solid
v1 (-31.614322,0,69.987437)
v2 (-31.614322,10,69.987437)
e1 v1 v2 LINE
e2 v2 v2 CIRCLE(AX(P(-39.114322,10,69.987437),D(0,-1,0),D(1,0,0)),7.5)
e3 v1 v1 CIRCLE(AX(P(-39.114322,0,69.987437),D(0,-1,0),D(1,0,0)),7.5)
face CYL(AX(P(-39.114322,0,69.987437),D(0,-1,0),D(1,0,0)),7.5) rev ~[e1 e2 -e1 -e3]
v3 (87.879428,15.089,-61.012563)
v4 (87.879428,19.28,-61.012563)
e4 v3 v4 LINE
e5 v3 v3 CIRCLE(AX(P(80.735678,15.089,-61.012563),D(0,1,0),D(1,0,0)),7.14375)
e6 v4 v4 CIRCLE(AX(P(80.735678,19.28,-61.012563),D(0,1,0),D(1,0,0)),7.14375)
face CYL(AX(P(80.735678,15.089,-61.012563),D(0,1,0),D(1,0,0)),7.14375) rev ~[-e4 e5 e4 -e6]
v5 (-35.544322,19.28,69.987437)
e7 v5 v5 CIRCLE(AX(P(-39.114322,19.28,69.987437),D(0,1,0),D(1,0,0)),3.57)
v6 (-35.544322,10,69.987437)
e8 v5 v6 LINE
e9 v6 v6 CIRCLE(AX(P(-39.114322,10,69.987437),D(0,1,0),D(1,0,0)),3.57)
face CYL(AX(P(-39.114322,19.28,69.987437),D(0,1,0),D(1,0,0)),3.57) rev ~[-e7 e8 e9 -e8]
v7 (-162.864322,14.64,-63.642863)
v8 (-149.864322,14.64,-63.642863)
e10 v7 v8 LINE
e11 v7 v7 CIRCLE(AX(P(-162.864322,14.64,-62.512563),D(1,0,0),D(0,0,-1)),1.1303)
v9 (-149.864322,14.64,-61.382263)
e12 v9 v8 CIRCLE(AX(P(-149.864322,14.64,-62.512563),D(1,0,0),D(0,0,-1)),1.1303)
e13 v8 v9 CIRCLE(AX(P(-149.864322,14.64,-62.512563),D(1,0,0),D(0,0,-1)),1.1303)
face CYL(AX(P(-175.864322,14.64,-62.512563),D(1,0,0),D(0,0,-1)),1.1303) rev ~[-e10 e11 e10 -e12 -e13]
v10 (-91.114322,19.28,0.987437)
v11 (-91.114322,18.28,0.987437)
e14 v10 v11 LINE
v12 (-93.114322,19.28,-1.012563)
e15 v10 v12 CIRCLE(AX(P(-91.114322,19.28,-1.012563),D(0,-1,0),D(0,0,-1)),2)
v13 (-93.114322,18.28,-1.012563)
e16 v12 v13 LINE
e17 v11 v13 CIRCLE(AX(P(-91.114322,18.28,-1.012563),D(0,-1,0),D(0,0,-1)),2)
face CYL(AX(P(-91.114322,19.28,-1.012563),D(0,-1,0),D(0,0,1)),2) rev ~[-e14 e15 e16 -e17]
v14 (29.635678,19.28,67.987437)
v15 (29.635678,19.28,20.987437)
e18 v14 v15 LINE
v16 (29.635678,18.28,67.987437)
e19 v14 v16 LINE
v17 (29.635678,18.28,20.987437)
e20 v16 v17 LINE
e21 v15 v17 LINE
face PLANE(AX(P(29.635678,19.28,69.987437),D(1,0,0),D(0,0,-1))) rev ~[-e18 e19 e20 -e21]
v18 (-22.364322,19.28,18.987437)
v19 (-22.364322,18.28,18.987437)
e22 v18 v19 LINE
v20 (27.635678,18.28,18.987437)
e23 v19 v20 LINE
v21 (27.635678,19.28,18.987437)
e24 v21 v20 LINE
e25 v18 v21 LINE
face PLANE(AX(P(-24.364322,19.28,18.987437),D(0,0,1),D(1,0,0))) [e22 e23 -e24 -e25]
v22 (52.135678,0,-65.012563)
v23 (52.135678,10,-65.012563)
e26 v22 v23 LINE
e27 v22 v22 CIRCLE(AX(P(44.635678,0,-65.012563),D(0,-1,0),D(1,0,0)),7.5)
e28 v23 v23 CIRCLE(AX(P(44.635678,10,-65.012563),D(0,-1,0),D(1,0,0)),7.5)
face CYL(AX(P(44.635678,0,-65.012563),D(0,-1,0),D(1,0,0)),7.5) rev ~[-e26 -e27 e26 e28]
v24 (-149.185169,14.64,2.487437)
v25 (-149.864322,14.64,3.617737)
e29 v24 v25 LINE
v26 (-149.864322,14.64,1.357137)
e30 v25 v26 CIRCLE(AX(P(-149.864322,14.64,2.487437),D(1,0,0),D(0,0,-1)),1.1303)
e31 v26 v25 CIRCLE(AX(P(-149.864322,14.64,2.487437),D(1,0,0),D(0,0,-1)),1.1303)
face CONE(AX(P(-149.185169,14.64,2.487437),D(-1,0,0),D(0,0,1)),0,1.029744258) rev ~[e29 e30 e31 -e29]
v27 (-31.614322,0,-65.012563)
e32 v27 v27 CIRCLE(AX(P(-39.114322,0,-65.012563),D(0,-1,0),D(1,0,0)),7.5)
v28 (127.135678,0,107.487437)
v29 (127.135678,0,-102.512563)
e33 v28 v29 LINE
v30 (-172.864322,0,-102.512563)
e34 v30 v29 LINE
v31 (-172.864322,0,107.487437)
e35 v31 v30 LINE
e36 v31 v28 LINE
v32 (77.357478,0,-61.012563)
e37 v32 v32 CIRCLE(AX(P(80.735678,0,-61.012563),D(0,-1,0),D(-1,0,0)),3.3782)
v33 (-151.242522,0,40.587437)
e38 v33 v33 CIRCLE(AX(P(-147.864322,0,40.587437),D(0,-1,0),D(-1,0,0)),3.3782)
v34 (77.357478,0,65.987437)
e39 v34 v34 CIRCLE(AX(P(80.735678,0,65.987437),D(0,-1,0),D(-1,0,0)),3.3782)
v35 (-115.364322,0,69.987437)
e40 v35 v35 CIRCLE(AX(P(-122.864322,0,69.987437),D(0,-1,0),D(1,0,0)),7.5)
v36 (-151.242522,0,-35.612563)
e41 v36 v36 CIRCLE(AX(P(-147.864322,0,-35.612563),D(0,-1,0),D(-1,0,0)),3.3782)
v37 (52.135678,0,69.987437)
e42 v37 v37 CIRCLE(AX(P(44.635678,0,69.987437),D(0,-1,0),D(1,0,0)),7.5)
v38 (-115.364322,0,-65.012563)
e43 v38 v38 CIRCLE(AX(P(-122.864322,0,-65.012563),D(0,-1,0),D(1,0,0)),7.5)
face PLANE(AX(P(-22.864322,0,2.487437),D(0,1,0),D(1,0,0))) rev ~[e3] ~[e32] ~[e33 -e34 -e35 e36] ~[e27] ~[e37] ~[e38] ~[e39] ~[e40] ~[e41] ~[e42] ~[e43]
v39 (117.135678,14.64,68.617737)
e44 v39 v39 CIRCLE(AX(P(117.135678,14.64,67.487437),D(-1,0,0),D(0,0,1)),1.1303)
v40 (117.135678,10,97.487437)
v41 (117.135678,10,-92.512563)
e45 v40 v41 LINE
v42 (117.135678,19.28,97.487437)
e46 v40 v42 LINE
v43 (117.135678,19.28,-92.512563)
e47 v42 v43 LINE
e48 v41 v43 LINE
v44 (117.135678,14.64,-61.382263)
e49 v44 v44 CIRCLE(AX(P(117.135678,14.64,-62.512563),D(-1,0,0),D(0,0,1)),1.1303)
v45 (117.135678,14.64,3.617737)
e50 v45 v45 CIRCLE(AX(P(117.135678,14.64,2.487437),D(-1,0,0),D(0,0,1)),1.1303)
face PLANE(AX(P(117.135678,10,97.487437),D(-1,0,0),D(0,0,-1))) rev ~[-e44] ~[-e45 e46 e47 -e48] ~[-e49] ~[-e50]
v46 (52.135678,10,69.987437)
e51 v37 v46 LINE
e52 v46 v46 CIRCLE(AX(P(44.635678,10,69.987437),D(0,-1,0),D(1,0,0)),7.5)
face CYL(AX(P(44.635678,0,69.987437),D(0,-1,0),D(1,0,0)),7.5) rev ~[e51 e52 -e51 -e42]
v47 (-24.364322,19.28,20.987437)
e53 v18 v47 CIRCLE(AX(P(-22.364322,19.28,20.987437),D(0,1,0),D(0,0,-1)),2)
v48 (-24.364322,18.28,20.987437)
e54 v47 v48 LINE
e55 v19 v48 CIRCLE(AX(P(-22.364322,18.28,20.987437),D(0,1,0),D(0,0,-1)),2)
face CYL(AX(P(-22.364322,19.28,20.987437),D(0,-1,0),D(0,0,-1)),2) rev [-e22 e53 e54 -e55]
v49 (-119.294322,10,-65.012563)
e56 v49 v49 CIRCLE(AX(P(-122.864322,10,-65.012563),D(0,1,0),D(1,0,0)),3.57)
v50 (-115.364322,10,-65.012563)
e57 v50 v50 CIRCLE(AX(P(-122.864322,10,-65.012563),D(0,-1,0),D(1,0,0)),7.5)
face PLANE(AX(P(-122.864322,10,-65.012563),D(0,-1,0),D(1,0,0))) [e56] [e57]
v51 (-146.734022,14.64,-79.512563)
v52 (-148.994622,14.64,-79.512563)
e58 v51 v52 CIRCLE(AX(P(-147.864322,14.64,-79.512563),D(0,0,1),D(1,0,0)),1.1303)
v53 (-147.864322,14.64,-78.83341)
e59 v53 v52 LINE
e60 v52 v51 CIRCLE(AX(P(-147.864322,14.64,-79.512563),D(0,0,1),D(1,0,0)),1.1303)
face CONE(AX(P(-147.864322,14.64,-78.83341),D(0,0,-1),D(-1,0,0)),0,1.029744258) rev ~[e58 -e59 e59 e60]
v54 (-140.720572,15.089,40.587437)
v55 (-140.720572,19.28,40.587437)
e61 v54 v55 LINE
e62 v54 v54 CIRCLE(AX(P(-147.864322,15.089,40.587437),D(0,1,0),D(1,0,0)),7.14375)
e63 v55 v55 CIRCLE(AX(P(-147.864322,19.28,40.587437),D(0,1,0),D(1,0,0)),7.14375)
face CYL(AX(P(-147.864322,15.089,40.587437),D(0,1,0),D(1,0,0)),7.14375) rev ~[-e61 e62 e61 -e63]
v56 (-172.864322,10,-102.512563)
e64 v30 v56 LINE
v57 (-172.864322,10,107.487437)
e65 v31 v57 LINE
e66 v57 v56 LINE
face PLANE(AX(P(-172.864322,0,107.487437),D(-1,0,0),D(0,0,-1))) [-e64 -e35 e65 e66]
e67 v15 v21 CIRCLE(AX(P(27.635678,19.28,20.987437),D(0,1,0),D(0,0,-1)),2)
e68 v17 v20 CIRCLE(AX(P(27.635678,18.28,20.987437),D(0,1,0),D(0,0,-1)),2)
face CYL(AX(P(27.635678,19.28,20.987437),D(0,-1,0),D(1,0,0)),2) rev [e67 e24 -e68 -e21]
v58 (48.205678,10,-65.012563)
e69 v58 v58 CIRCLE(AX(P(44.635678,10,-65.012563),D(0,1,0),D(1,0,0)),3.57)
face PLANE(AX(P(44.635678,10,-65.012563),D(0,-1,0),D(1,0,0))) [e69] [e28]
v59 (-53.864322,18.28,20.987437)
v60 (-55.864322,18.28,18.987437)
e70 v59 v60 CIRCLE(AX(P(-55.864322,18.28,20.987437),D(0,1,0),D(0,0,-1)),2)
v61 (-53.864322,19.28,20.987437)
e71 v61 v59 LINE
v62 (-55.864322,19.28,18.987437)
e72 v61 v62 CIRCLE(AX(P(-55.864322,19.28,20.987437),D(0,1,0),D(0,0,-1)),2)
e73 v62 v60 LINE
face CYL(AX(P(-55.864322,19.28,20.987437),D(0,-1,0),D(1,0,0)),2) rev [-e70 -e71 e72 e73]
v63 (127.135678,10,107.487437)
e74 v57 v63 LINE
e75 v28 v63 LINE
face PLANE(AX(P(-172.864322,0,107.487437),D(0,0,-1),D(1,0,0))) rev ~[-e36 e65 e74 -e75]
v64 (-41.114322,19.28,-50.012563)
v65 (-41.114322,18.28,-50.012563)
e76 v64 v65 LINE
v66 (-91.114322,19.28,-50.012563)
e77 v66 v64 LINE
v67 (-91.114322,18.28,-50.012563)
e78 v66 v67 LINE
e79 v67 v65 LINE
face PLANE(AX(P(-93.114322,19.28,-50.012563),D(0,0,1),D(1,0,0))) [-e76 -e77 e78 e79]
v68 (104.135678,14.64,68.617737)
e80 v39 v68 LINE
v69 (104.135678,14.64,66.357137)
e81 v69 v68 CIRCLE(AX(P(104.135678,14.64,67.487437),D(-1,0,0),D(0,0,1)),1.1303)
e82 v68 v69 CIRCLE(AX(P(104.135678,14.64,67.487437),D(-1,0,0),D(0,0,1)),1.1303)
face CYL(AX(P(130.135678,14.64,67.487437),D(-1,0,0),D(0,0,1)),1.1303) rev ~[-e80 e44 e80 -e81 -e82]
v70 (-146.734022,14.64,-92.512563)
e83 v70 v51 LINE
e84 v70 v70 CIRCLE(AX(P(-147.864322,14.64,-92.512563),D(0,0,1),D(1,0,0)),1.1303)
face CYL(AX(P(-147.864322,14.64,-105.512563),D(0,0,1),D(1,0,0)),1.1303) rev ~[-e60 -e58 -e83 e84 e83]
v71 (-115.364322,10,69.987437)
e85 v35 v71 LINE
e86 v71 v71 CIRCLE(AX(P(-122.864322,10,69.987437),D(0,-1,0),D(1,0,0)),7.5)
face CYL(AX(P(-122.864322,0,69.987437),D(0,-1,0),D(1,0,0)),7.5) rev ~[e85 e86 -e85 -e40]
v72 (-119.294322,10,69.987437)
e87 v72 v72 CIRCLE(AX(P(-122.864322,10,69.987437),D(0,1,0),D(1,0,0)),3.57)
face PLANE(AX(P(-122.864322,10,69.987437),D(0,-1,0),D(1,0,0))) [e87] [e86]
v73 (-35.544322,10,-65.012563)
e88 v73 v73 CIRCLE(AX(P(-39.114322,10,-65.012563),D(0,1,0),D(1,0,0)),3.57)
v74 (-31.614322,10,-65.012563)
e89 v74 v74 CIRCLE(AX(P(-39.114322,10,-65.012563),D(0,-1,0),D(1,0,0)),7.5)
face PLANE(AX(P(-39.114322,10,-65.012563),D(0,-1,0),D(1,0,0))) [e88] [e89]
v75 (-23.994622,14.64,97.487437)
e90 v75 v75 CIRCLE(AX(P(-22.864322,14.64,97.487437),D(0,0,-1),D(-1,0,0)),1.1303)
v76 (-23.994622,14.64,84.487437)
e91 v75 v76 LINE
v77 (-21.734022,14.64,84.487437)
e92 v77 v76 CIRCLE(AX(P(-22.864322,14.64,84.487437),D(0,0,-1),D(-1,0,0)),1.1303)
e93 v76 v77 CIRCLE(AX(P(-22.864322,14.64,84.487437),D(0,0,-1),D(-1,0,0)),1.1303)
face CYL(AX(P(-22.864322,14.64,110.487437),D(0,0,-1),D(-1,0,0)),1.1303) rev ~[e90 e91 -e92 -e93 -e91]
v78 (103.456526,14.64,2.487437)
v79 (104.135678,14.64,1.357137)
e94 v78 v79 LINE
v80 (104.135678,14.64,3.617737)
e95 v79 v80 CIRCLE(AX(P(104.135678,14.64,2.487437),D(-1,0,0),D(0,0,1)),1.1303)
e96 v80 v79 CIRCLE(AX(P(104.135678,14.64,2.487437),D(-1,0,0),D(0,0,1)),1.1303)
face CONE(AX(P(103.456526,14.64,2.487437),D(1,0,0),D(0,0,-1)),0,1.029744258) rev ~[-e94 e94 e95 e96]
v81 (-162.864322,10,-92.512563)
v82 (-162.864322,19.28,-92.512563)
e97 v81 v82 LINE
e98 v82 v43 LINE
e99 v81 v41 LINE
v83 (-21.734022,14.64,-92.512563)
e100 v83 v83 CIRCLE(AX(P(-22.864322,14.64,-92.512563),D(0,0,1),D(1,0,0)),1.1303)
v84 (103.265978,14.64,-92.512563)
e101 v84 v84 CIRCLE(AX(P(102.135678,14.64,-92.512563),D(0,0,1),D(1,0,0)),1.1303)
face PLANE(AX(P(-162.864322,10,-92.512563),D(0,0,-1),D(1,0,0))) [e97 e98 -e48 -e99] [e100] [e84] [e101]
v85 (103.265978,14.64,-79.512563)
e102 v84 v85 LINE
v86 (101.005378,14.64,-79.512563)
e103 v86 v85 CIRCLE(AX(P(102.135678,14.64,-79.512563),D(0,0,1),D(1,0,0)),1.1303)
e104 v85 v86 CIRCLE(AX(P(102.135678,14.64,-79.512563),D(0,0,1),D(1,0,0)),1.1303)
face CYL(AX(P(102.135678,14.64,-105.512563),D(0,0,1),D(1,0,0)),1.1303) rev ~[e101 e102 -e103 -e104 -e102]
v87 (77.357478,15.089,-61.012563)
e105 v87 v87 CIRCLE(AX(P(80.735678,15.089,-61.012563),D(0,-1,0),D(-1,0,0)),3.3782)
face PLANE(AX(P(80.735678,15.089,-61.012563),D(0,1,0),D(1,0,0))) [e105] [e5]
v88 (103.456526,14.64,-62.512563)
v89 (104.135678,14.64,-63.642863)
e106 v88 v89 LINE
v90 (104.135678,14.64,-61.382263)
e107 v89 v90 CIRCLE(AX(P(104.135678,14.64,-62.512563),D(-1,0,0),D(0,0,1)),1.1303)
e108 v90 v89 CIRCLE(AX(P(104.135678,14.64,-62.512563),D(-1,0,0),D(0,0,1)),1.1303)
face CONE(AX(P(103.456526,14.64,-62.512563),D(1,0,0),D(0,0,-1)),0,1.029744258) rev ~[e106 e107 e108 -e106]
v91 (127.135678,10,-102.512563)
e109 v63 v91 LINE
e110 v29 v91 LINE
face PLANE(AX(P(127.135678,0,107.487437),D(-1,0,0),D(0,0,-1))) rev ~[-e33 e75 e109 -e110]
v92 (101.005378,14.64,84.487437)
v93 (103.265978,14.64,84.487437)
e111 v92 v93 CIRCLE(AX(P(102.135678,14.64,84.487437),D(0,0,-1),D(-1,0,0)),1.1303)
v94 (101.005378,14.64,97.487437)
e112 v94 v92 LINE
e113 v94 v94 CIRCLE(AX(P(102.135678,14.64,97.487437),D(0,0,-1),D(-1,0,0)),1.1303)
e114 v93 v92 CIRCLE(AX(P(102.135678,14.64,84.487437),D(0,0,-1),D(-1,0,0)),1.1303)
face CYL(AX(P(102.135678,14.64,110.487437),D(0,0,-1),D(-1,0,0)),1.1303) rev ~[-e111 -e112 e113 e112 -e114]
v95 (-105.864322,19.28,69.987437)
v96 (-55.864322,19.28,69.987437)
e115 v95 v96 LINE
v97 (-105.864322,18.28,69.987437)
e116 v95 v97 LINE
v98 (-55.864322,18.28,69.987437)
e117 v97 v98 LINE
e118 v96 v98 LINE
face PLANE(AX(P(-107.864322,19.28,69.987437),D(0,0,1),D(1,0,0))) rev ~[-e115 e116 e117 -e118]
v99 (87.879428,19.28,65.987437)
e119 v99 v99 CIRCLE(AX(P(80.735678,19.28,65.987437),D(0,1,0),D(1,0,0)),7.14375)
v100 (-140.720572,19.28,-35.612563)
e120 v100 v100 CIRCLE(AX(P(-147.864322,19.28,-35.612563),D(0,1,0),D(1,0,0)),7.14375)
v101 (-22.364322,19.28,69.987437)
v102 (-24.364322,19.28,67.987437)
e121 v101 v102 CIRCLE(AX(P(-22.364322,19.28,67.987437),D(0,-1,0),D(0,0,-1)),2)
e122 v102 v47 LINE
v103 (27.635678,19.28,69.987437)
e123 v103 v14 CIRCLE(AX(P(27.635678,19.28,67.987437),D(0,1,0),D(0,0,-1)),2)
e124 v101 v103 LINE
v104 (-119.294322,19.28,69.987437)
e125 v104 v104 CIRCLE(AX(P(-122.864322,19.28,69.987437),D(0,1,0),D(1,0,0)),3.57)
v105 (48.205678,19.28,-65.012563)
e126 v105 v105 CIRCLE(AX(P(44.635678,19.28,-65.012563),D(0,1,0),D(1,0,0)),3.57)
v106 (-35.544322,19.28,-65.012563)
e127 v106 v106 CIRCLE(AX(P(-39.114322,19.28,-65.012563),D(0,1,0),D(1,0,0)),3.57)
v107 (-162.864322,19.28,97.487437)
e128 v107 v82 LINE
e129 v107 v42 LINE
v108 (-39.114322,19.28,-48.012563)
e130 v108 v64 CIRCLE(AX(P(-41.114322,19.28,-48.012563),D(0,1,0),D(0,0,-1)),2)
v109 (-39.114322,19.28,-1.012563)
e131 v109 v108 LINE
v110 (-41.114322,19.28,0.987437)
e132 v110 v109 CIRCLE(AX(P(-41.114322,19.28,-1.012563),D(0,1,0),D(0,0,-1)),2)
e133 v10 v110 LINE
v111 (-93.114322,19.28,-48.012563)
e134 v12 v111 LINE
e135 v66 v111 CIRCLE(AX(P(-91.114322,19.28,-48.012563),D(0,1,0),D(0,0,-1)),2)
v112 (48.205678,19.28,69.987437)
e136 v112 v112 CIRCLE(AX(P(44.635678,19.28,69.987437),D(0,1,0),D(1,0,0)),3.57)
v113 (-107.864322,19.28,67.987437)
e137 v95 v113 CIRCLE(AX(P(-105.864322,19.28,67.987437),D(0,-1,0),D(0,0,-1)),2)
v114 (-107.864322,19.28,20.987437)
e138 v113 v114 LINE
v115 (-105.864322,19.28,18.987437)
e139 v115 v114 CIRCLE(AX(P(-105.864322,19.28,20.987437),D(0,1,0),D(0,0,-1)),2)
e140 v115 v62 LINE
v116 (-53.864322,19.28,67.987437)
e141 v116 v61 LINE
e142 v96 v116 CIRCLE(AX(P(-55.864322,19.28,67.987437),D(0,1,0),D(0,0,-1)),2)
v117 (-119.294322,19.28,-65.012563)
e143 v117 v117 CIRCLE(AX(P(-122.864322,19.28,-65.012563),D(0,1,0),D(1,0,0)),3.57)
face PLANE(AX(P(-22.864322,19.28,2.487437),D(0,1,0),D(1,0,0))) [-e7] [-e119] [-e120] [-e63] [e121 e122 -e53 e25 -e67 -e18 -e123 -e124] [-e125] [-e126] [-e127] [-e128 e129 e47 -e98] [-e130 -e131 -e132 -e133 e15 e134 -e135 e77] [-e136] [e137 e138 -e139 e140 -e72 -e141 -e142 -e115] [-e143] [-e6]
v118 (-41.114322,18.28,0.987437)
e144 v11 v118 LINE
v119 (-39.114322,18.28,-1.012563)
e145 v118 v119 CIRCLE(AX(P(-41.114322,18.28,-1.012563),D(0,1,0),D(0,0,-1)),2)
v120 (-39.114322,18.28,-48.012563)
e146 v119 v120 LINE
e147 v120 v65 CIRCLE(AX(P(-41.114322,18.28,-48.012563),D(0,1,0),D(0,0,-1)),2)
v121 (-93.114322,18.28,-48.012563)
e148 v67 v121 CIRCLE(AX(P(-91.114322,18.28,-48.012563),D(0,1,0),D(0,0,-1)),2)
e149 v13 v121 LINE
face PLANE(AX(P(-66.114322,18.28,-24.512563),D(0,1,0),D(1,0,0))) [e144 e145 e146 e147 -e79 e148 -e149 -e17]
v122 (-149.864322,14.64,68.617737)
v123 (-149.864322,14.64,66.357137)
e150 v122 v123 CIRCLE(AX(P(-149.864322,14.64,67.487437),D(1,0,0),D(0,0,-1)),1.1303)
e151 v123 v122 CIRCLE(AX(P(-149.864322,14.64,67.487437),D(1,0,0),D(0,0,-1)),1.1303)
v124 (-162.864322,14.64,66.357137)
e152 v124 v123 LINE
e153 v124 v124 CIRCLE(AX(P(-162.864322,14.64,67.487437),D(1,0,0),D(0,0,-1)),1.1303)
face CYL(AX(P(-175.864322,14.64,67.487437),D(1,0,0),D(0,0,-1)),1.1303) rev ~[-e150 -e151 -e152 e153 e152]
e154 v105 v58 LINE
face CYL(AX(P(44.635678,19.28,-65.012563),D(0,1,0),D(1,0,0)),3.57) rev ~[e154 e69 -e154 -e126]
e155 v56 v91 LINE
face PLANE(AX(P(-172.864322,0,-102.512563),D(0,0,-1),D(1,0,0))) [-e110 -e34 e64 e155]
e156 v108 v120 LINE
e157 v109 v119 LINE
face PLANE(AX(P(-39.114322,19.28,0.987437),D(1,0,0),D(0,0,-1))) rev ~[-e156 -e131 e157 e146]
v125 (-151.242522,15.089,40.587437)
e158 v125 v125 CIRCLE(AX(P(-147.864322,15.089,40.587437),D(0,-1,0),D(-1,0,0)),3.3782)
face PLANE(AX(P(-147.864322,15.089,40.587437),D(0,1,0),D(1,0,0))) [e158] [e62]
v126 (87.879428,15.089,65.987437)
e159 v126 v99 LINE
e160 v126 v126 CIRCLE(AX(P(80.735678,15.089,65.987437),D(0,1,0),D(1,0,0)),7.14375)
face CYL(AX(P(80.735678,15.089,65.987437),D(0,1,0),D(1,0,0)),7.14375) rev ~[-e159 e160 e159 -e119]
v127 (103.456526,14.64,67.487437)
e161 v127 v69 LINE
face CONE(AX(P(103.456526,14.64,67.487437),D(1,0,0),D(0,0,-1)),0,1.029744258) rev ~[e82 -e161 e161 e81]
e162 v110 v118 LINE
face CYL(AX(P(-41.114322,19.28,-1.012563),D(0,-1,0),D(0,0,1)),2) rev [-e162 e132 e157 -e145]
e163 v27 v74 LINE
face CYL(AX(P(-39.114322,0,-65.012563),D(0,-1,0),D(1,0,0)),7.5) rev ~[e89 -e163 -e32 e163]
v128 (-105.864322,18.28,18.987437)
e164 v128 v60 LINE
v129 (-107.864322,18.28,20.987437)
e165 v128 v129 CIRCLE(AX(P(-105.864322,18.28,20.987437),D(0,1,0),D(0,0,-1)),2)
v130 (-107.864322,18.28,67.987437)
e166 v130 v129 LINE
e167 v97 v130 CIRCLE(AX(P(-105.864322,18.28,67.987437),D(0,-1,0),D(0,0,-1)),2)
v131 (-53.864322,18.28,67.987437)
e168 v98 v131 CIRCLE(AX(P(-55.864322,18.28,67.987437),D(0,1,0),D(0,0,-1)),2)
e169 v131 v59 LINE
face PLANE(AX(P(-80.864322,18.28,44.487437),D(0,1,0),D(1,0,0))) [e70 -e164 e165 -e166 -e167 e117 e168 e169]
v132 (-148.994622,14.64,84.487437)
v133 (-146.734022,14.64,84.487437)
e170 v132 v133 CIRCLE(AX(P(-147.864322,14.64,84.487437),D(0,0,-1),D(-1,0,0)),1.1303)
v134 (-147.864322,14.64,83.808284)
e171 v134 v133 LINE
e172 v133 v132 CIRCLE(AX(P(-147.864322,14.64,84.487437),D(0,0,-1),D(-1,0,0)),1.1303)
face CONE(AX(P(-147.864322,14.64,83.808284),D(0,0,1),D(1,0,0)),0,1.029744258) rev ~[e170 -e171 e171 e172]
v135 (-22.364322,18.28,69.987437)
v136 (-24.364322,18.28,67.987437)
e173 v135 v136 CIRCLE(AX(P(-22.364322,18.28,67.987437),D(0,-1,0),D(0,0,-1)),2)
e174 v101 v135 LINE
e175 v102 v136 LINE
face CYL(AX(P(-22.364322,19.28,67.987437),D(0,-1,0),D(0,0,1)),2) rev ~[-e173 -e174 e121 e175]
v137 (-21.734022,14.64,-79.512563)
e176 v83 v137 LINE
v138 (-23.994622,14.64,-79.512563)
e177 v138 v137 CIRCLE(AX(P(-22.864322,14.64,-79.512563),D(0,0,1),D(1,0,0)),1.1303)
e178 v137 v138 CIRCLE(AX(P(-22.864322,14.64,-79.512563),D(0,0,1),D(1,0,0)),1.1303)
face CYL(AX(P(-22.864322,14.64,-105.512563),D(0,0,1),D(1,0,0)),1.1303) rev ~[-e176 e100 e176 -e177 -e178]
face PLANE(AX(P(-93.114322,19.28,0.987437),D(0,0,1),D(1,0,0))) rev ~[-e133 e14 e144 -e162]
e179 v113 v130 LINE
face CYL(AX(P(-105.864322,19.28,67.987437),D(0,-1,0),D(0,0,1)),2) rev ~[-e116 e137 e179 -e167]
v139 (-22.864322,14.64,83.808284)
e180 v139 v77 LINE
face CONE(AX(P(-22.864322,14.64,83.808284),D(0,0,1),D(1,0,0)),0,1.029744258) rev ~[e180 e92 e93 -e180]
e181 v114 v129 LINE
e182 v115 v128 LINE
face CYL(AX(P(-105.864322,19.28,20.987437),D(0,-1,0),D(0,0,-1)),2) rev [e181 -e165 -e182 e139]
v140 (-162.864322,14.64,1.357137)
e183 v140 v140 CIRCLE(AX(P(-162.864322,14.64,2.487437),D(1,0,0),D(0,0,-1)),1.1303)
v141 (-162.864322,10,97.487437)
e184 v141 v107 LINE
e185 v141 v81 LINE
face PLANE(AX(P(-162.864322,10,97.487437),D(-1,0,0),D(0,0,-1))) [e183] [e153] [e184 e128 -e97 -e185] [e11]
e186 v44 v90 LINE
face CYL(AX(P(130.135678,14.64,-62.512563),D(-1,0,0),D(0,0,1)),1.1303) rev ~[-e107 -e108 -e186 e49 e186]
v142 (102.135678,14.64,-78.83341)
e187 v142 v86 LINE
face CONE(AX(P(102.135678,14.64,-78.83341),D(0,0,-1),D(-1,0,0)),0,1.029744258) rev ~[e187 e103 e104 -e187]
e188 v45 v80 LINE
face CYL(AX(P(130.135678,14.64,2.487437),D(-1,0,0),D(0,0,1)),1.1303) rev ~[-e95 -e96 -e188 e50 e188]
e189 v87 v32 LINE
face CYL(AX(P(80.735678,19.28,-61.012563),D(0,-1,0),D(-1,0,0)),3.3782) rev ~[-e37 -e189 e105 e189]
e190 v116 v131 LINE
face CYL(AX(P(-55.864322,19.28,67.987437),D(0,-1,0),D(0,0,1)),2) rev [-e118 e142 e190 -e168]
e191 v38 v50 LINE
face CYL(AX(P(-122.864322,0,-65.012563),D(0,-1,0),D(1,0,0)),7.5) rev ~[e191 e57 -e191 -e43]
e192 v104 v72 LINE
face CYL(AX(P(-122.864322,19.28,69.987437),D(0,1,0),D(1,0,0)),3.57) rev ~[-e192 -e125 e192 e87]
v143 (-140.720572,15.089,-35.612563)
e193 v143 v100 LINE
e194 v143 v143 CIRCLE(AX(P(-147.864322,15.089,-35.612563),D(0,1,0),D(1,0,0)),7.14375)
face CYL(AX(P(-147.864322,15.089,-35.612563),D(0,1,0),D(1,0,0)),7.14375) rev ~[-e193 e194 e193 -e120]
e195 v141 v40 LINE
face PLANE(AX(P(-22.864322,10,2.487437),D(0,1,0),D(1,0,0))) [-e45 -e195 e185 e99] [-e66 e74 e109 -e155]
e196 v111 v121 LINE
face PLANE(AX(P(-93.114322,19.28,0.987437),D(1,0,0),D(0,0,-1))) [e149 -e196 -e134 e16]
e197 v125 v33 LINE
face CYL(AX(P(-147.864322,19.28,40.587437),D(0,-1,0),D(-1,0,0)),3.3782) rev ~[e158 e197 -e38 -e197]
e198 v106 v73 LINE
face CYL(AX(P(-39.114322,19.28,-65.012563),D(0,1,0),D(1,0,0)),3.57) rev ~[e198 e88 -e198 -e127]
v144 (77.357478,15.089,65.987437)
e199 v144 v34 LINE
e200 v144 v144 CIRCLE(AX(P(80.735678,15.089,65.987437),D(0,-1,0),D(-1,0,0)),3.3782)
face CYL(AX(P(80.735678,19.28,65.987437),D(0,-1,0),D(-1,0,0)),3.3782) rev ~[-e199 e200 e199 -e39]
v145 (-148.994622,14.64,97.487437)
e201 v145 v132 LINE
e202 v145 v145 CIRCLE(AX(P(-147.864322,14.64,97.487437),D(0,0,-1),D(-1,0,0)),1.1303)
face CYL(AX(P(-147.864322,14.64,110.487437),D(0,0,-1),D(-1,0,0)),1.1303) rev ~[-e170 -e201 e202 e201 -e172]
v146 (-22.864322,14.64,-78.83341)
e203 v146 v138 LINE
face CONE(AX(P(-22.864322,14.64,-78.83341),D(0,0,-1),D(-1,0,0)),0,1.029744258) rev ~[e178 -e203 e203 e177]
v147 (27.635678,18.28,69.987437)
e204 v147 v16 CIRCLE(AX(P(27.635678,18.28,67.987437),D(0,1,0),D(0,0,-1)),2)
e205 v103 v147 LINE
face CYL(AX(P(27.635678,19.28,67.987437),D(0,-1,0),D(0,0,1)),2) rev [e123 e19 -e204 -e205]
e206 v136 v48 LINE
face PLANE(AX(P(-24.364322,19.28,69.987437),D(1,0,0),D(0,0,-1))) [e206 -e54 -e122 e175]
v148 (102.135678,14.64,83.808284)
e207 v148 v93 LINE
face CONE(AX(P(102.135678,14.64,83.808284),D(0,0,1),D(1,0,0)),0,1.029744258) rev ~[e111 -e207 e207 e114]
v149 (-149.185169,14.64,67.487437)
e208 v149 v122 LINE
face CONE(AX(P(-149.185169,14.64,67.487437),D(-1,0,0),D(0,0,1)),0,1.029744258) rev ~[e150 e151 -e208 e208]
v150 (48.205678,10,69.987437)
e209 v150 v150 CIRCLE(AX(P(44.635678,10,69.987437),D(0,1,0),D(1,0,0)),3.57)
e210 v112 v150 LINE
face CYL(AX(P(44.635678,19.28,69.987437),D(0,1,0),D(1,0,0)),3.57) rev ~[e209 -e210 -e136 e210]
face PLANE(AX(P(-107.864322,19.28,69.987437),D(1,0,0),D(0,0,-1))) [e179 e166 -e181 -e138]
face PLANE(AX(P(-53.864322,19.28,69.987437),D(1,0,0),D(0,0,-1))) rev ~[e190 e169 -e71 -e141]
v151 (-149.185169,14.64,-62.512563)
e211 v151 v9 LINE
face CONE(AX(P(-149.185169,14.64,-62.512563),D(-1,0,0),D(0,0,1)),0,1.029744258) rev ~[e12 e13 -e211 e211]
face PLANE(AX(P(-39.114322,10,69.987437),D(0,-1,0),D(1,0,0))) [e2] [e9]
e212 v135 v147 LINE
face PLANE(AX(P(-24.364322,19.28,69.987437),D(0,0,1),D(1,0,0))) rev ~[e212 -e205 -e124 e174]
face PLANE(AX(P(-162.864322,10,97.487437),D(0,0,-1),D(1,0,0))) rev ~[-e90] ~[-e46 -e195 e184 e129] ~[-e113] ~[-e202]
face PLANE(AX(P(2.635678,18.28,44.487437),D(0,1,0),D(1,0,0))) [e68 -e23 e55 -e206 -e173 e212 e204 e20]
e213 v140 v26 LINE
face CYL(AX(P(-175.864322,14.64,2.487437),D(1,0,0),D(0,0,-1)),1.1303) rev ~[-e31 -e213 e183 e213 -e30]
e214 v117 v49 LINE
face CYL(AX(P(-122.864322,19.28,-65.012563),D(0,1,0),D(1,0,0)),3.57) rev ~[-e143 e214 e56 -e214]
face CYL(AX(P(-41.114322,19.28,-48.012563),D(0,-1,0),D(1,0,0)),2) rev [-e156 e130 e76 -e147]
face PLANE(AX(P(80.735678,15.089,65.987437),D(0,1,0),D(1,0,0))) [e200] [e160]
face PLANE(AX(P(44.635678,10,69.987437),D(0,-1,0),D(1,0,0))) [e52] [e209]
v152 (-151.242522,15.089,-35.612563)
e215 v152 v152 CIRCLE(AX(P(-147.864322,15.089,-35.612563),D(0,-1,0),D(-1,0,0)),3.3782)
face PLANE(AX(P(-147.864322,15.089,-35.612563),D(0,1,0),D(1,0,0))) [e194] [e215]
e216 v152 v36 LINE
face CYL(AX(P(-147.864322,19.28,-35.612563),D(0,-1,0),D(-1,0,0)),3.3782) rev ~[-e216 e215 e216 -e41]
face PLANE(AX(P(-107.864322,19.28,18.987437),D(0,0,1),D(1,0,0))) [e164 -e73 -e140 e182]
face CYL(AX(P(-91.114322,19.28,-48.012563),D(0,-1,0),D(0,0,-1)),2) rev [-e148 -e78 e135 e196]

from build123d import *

# Parameters (mm, degrees)
SKETCH1_W                                            = 300
SKETCH1_H                                            = 210
BOSS_EXTRUDE1_DEPTH                                  = 10
SKETCH2_W                                            = 280
SKETCH2_H                                            = 190
BOSS_EXTRUDE2_DEPTH                                  = 9.28
F_1_4_20_CLEARANCE_HOLES_REACH                       = 21.28
SKETCH3_R                                            = 3.57
SKETCH4_R                                            = 7.5
CUT_EXTRUDE2_DEPTH                                   = 10
SKETCH11_W                                           = 54
SKETCH11_H                                           = 51
TEC_DEPTH                                            = 1
FILLET1_R                                            = 2
F_4_40_TAPPED_HOLE1_D                                = 2.2606
F_4_40_TAPPED_HOLE1_DEPTH                            = 13
F_4_40_TAPPED_HOLE1_TIP                              = 0.679152758
F_4_40_TAPPED_HOLE2_D                                = 2.2606
F_4_40_TAPPED_HOLE2_DEPTH                            = 13
F_4_40_TAPPED_HOLE2_TIP                              = 0.679152758
F_4_40_TAPPED_HOLE3_D                                = 2.2606
F_4_40_TAPPED_HOLE3_DEPTH                            = 13
F_4_40_TAPPED_HOLE3_TIP                              = 0.679152758
F_4_40_TAPPED_HOLE4_D                                = 2.2606
F_4_40_TAPPED_HOLE4_DEPTH                            = 13
F_4_40_TAPPED_HOLE4_TIP                              = 0.679152758
CBORE_FOR_1_4_BINDING_HEAD_MACHINE_SCREW_D           = 6.7564
CBORE_FOR_1_4_BINDING_HEAD_MACHINE_SCREW_CBORE_D     = 14.2875
CBORE_FOR_1_4_BINDING_HEAD_MACHINE_SCREW_CBORE_DEPTH = 4.191


with BuildPart() as part:
    # Sketch1 → Boss-Extrude1 (new body)
    with BuildSketch(Plane(origin=(0, 0, 0), x_dir=(1, 0, 0), z_dir=(0, 1, 0))):
        with Locations((-22.864321608, -2.487437186)):
            Rectangle(SKETCH1_W, SKETCH1_H)
    extrude(amount=BOSS_EXTRUDE1_DEPTH)

    # Sketch2 → Boss-Extrude2 (add)
    with BuildSketch(Plane(origin=(0, 10, 0), x_dir=(1, 0, 0), z_dir=(0, 1, 0))):
        with Locations((-22.864321608, -2.487437186)):
            Rectangle(SKETCH2_W, SKETCH2_H)
    extrude(amount=BOSS_EXTRUDE2_DEPTH)

    # Sketch3 → 1/4-20 clearance holes (cut, up to next)
    with BuildSketch(Plane(origin=(0, 19.28, 0), x_dir=(1, 0, 0), z_dir=(0, 1, 0)), mode=Mode.PRIVATE) as f_1_4_20_clearance_holes_sk1:
        with Locations((-122.864321608, 65.012562814)):
            Circle(SKETCH3_R)
    f_1_4_20_clearance_holes_tool1 = extrude(f_1_4_20_clearance_holes_sk1.sketch, amount=-F_1_4_20_CLEARANCE_HOLES_REACH, mode=Mode.PRIVATE) & part.part
    add(f_1_4_20_clearance_holes_tool1.solids().sort_by_distance((-122.864322, 19.28, -65.012563))[0], mode=Mode.SUBTRACT)
    # Sketch3 → 1/4-20 clearance holes (cut, up to next)
    with BuildSketch(Plane(origin=(0, 19.28, 0), x_dir=(1, 0, 0), z_dir=(0, 1, 0)), mode=Mode.PRIVATE) as f_1_4_20_clearance_holes_sk2:
        with Locations((-39.114321608, 65.012562814)):
            Circle(SKETCH3_R)
    f_1_4_20_clearance_holes_tool2 = extrude(f_1_4_20_clearance_holes_sk2.sketch, amount=-F_1_4_20_CLEARANCE_HOLES_REACH, mode=Mode.PRIVATE) & part.part
    add(f_1_4_20_clearance_holes_tool2.solids().sort_by_distance((-39.114322, 19.28, -65.012563))[0], mode=Mode.SUBTRACT)
    # Sketch3 → 1/4-20 clearance holes (cut, up to next)
    with BuildSketch(Plane(origin=(0, 19.28, 0), x_dir=(1, 0, 0), z_dir=(0, 1, 0)), mode=Mode.PRIVATE) as f_1_4_20_clearance_holes_sk3:
        with Locations((44.635678392, 65.012562814)):
            Circle(SKETCH3_R)
    f_1_4_20_clearance_holes_tool3 = extrude(f_1_4_20_clearance_holes_sk3.sketch, amount=-F_1_4_20_CLEARANCE_HOLES_REACH, mode=Mode.PRIVATE) & part.part
    add(f_1_4_20_clearance_holes_tool3.solids().sort_by_distance((44.635678, 19.28, -65.012563))[0], mode=Mode.SUBTRACT)
    # Sketch3 → 1/4-20 clearance holes (cut, up to next)
    with BuildSketch(Plane(origin=(0, 19.28, 0), x_dir=(1, 0, 0), z_dir=(0, 1, 0)), mode=Mode.PRIVATE) as f_1_4_20_clearance_holes_sk4:
        with Locations((44.635678392, -69.987437186)):
            Circle(SKETCH3_R)
    f_1_4_20_clearance_holes_tool4 = extrude(f_1_4_20_clearance_holes_sk4.sketch, amount=-F_1_4_20_CLEARANCE_HOLES_REACH, mode=Mode.PRIVATE) & part.part
    add(f_1_4_20_clearance_holes_tool4.solids().sort_by_distance((44.635678, 19.28, 69.987437))[0], mode=Mode.SUBTRACT)
    # Sketch3 → 1/4-20 clearance holes (cut, up to next)
    with BuildSketch(Plane(origin=(0, 19.28, 0), x_dir=(1, 0, 0), z_dir=(0, 1, 0)), mode=Mode.PRIVATE) as f_1_4_20_clearance_holes_sk5:
        with Locations((-39.114321608, -69.987437186)):
            Circle(SKETCH3_R)
    f_1_4_20_clearance_holes_tool5 = extrude(f_1_4_20_clearance_holes_sk5.sketch, amount=-F_1_4_20_CLEARANCE_HOLES_REACH, mode=Mode.PRIVATE) & part.part
    add(f_1_4_20_clearance_holes_tool5.solids().sort_by_distance((-39.114322, 19.28, 69.987437))[0], mode=Mode.SUBTRACT)
    # Sketch3 → 1/4-20 clearance holes (cut, up to next)
    with BuildSketch(Plane(origin=(0, 19.28, 0), x_dir=(1, 0, 0), z_dir=(0, 1, 0)), mode=Mode.PRIVATE) as f_1_4_20_clearance_holes_sk6:
        with Locations((-122.864321608, -69.987437186)):
            Circle(SKETCH3_R)
    f_1_4_20_clearance_holes_tool6 = extrude(f_1_4_20_clearance_holes_sk6.sketch, amount=-F_1_4_20_CLEARANCE_HOLES_REACH, mode=Mode.PRIVATE) & part.part
    add(f_1_4_20_clearance_holes_tool6.solids().sort_by_distance((-122.864322, 19.28, 69.987437))[0], mode=Mode.SUBTRACT)

    # Sketch4 → Cut-Extrude2 (cut)
    with BuildSketch(Plane.XZ):
        with Locations((-122.864321608, 69.987437186)):
            Circle(SKETCH4_R)
        with Locations((-39.114321608, 69.987437186)):
            Circle(SKETCH4_R)
        with Locations((44.635678392, 69.987437186)):
            Circle(SKETCH4_R)
        with Locations((44.635678392, -65.012562814)):
            Circle(SKETCH4_R)
        with Locations((-39.114321608, -65.012562814)):
            Circle(SKETCH4_R)
        with Locations((-122.864321608, -65.012562814)):
            Circle(SKETCH4_R)
    extrude(amount=-CUT_EXTRUDE2_DEPTH, mode=Mode.SUBTRACT)

    # Sketch11 → TEC (cut)
    with BuildSketch(Plane(origin=(0, 19.28, 0), x_dir=(1, 0, 0), z_dir=(0, 1, 0))):
        with Locations((-66.114321608, 24.512562814)):
            Rectangle(SKETCH11_W, SKETCH11_H)
        with Locations((-80.864321608, -44.487437186)):
            Rectangle(SKETCH11_W, SKETCH11_H)
        with Locations((2.635678392, -44.487437186)):
            Rectangle(SKETCH11_W, SKETCH11_H)
    extrude(amount=-TEC_DEPTH, mode=Mode.SUBTRACT)

    # Fillet1
    fillet1_edges = [part.edges().sort_by_distance(p)[0] for p in [
        (29.635678392, 18.78, 69.987437186),
        (-24.364321608, 18.78, 69.987437186),
        (-24.364321608, 18.78, 18.987437186),
        (29.635678392, 18.78, 18.987437186),
        (-39.114321608, 18.78, -50.012562814),
        (-39.114321608, 18.78, 0.987437186),
        (-93.114321608, 18.78, 0.987437186),
        (-93.114321608, 18.78, -50.012562814),
        (-53.864321608, 18.78, 69.987437186),
        (-107.864321608, 18.78, 69.987437186),
        (-107.864321608, 18.78, 18.987437186),
        (-53.864321608, 18.78, 18.987437186),
    ]]
    fillet(fillet1_edges, radius=FILLET1_R)

    # #4-40 Tapped Hole1
    with Locations(Plane.ZY.offset(162.864321608)):
        with Locations((-62.512562814, 14.64), (2.487437186, 14.64), (67.487437186, 14.64)):
            Hole(F_4_40_TAPPED_HOLE1_D / 2, depth=F_4_40_TAPPED_HOLE1_DEPTH)
            with Locations((0, 0, -(F_4_40_TAPPED_HOLE1_DEPTH + F_4_40_TAPPED_HOLE1_TIP / 2))):  # 118° drill point
                Cone(0, F_4_40_TAPPED_HOLE1_D / 2, F_4_40_TAPPED_HOLE1_TIP, mode=Mode.SUBTRACT)

    # #4-40 Tapped Hole2
    with Locations(Plane.XY.offset(97.487437186)):
        with Locations((-147.864321608, 14.64), (-22.864321608, 14.64), (102.135678392, 14.64)):
            Hole(F_4_40_TAPPED_HOLE2_D / 2, depth=F_4_40_TAPPED_HOLE2_DEPTH)
            with Locations((0, 0, -(F_4_40_TAPPED_HOLE2_DEPTH + F_4_40_TAPPED_HOLE2_TIP / 2))):  # 118° drill point
                Cone(0, F_4_40_TAPPED_HOLE2_D / 2, F_4_40_TAPPED_HOLE2_TIP, mode=Mode.SUBTRACT)

    # #4-40 Tapped Hole3
    with Locations(Plane(origin=(117.135678392, 0, 0), x_dir=(0, 0, -1), z_dir=(1, 0, 0))):
        with Locations((-67.487437186, 14.64), (-2.487437186, 14.64), (62.512562814, 14.64)):
            Hole(F_4_40_TAPPED_HOLE3_D / 2, depth=F_4_40_TAPPED_HOLE3_DEPTH)
            with Locations((0, 0, -(F_4_40_TAPPED_HOLE3_DEPTH + F_4_40_TAPPED_HOLE3_TIP / 2))):  # 118° drill point
                Cone(0, F_4_40_TAPPED_HOLE3_D / 2, F_4_40_TAPPED_HOLE3_TIP, mode=Mode.SUBTRACT)

    # #4-40 Tapped Hole4
    with Locations(Plane(origin=(0, 0, -92.512562814), x_dir=(-1, 0, 0), z_dir=(0, 0, -1))):
        with Locations((-102.135678392, 14.64), (22.864321608, 14.64), (147.864321608, 14.64)):
            Hole(F_4_40_TAPPED_HOLE4_D / 2, depth=F_4_40_TAPPED_HOLE4_DEPTH)
            with Locations((0, 0, -(F_4_40_TAPPED_HOLE4_DEPTH + F_4_40_TAPPED_HOLE4_TIP / 2))):  # 118° drill point
                Cone(0, F_4_40_TAPPED_HOLE4_D / 2, F_4_40_TAPPED_HOLE4_TIP, mode=Mode.SUBTRACT)

    # CBORE for 1/4 Binding Head Machine Screw1 (through all)
    with Locations(Plane(origin=(0, 19.28, 0), x_dir=(1, 0, 0), z_dir=(0, 1, 0))):
        with Locations((80.735678392, 61.012562814), (80.735678392, -65.987437186), (-147.864321608, 35.612562814), (-147.864321608, -40.587437186)):
            CounterBoreHole(CBORE_FOR_1_4_BINDING_HEAD_MACHINE_SCREW_D / 2, CBORE_FOR_1_4_BINDING_HEAD_MACHINE_SCREW_CBORE_D / 2, CBORE_FOR_1_4_BINDING_HEAD_MACHINE_SCREW_CBORE_DEPTH)


solid = part.part
